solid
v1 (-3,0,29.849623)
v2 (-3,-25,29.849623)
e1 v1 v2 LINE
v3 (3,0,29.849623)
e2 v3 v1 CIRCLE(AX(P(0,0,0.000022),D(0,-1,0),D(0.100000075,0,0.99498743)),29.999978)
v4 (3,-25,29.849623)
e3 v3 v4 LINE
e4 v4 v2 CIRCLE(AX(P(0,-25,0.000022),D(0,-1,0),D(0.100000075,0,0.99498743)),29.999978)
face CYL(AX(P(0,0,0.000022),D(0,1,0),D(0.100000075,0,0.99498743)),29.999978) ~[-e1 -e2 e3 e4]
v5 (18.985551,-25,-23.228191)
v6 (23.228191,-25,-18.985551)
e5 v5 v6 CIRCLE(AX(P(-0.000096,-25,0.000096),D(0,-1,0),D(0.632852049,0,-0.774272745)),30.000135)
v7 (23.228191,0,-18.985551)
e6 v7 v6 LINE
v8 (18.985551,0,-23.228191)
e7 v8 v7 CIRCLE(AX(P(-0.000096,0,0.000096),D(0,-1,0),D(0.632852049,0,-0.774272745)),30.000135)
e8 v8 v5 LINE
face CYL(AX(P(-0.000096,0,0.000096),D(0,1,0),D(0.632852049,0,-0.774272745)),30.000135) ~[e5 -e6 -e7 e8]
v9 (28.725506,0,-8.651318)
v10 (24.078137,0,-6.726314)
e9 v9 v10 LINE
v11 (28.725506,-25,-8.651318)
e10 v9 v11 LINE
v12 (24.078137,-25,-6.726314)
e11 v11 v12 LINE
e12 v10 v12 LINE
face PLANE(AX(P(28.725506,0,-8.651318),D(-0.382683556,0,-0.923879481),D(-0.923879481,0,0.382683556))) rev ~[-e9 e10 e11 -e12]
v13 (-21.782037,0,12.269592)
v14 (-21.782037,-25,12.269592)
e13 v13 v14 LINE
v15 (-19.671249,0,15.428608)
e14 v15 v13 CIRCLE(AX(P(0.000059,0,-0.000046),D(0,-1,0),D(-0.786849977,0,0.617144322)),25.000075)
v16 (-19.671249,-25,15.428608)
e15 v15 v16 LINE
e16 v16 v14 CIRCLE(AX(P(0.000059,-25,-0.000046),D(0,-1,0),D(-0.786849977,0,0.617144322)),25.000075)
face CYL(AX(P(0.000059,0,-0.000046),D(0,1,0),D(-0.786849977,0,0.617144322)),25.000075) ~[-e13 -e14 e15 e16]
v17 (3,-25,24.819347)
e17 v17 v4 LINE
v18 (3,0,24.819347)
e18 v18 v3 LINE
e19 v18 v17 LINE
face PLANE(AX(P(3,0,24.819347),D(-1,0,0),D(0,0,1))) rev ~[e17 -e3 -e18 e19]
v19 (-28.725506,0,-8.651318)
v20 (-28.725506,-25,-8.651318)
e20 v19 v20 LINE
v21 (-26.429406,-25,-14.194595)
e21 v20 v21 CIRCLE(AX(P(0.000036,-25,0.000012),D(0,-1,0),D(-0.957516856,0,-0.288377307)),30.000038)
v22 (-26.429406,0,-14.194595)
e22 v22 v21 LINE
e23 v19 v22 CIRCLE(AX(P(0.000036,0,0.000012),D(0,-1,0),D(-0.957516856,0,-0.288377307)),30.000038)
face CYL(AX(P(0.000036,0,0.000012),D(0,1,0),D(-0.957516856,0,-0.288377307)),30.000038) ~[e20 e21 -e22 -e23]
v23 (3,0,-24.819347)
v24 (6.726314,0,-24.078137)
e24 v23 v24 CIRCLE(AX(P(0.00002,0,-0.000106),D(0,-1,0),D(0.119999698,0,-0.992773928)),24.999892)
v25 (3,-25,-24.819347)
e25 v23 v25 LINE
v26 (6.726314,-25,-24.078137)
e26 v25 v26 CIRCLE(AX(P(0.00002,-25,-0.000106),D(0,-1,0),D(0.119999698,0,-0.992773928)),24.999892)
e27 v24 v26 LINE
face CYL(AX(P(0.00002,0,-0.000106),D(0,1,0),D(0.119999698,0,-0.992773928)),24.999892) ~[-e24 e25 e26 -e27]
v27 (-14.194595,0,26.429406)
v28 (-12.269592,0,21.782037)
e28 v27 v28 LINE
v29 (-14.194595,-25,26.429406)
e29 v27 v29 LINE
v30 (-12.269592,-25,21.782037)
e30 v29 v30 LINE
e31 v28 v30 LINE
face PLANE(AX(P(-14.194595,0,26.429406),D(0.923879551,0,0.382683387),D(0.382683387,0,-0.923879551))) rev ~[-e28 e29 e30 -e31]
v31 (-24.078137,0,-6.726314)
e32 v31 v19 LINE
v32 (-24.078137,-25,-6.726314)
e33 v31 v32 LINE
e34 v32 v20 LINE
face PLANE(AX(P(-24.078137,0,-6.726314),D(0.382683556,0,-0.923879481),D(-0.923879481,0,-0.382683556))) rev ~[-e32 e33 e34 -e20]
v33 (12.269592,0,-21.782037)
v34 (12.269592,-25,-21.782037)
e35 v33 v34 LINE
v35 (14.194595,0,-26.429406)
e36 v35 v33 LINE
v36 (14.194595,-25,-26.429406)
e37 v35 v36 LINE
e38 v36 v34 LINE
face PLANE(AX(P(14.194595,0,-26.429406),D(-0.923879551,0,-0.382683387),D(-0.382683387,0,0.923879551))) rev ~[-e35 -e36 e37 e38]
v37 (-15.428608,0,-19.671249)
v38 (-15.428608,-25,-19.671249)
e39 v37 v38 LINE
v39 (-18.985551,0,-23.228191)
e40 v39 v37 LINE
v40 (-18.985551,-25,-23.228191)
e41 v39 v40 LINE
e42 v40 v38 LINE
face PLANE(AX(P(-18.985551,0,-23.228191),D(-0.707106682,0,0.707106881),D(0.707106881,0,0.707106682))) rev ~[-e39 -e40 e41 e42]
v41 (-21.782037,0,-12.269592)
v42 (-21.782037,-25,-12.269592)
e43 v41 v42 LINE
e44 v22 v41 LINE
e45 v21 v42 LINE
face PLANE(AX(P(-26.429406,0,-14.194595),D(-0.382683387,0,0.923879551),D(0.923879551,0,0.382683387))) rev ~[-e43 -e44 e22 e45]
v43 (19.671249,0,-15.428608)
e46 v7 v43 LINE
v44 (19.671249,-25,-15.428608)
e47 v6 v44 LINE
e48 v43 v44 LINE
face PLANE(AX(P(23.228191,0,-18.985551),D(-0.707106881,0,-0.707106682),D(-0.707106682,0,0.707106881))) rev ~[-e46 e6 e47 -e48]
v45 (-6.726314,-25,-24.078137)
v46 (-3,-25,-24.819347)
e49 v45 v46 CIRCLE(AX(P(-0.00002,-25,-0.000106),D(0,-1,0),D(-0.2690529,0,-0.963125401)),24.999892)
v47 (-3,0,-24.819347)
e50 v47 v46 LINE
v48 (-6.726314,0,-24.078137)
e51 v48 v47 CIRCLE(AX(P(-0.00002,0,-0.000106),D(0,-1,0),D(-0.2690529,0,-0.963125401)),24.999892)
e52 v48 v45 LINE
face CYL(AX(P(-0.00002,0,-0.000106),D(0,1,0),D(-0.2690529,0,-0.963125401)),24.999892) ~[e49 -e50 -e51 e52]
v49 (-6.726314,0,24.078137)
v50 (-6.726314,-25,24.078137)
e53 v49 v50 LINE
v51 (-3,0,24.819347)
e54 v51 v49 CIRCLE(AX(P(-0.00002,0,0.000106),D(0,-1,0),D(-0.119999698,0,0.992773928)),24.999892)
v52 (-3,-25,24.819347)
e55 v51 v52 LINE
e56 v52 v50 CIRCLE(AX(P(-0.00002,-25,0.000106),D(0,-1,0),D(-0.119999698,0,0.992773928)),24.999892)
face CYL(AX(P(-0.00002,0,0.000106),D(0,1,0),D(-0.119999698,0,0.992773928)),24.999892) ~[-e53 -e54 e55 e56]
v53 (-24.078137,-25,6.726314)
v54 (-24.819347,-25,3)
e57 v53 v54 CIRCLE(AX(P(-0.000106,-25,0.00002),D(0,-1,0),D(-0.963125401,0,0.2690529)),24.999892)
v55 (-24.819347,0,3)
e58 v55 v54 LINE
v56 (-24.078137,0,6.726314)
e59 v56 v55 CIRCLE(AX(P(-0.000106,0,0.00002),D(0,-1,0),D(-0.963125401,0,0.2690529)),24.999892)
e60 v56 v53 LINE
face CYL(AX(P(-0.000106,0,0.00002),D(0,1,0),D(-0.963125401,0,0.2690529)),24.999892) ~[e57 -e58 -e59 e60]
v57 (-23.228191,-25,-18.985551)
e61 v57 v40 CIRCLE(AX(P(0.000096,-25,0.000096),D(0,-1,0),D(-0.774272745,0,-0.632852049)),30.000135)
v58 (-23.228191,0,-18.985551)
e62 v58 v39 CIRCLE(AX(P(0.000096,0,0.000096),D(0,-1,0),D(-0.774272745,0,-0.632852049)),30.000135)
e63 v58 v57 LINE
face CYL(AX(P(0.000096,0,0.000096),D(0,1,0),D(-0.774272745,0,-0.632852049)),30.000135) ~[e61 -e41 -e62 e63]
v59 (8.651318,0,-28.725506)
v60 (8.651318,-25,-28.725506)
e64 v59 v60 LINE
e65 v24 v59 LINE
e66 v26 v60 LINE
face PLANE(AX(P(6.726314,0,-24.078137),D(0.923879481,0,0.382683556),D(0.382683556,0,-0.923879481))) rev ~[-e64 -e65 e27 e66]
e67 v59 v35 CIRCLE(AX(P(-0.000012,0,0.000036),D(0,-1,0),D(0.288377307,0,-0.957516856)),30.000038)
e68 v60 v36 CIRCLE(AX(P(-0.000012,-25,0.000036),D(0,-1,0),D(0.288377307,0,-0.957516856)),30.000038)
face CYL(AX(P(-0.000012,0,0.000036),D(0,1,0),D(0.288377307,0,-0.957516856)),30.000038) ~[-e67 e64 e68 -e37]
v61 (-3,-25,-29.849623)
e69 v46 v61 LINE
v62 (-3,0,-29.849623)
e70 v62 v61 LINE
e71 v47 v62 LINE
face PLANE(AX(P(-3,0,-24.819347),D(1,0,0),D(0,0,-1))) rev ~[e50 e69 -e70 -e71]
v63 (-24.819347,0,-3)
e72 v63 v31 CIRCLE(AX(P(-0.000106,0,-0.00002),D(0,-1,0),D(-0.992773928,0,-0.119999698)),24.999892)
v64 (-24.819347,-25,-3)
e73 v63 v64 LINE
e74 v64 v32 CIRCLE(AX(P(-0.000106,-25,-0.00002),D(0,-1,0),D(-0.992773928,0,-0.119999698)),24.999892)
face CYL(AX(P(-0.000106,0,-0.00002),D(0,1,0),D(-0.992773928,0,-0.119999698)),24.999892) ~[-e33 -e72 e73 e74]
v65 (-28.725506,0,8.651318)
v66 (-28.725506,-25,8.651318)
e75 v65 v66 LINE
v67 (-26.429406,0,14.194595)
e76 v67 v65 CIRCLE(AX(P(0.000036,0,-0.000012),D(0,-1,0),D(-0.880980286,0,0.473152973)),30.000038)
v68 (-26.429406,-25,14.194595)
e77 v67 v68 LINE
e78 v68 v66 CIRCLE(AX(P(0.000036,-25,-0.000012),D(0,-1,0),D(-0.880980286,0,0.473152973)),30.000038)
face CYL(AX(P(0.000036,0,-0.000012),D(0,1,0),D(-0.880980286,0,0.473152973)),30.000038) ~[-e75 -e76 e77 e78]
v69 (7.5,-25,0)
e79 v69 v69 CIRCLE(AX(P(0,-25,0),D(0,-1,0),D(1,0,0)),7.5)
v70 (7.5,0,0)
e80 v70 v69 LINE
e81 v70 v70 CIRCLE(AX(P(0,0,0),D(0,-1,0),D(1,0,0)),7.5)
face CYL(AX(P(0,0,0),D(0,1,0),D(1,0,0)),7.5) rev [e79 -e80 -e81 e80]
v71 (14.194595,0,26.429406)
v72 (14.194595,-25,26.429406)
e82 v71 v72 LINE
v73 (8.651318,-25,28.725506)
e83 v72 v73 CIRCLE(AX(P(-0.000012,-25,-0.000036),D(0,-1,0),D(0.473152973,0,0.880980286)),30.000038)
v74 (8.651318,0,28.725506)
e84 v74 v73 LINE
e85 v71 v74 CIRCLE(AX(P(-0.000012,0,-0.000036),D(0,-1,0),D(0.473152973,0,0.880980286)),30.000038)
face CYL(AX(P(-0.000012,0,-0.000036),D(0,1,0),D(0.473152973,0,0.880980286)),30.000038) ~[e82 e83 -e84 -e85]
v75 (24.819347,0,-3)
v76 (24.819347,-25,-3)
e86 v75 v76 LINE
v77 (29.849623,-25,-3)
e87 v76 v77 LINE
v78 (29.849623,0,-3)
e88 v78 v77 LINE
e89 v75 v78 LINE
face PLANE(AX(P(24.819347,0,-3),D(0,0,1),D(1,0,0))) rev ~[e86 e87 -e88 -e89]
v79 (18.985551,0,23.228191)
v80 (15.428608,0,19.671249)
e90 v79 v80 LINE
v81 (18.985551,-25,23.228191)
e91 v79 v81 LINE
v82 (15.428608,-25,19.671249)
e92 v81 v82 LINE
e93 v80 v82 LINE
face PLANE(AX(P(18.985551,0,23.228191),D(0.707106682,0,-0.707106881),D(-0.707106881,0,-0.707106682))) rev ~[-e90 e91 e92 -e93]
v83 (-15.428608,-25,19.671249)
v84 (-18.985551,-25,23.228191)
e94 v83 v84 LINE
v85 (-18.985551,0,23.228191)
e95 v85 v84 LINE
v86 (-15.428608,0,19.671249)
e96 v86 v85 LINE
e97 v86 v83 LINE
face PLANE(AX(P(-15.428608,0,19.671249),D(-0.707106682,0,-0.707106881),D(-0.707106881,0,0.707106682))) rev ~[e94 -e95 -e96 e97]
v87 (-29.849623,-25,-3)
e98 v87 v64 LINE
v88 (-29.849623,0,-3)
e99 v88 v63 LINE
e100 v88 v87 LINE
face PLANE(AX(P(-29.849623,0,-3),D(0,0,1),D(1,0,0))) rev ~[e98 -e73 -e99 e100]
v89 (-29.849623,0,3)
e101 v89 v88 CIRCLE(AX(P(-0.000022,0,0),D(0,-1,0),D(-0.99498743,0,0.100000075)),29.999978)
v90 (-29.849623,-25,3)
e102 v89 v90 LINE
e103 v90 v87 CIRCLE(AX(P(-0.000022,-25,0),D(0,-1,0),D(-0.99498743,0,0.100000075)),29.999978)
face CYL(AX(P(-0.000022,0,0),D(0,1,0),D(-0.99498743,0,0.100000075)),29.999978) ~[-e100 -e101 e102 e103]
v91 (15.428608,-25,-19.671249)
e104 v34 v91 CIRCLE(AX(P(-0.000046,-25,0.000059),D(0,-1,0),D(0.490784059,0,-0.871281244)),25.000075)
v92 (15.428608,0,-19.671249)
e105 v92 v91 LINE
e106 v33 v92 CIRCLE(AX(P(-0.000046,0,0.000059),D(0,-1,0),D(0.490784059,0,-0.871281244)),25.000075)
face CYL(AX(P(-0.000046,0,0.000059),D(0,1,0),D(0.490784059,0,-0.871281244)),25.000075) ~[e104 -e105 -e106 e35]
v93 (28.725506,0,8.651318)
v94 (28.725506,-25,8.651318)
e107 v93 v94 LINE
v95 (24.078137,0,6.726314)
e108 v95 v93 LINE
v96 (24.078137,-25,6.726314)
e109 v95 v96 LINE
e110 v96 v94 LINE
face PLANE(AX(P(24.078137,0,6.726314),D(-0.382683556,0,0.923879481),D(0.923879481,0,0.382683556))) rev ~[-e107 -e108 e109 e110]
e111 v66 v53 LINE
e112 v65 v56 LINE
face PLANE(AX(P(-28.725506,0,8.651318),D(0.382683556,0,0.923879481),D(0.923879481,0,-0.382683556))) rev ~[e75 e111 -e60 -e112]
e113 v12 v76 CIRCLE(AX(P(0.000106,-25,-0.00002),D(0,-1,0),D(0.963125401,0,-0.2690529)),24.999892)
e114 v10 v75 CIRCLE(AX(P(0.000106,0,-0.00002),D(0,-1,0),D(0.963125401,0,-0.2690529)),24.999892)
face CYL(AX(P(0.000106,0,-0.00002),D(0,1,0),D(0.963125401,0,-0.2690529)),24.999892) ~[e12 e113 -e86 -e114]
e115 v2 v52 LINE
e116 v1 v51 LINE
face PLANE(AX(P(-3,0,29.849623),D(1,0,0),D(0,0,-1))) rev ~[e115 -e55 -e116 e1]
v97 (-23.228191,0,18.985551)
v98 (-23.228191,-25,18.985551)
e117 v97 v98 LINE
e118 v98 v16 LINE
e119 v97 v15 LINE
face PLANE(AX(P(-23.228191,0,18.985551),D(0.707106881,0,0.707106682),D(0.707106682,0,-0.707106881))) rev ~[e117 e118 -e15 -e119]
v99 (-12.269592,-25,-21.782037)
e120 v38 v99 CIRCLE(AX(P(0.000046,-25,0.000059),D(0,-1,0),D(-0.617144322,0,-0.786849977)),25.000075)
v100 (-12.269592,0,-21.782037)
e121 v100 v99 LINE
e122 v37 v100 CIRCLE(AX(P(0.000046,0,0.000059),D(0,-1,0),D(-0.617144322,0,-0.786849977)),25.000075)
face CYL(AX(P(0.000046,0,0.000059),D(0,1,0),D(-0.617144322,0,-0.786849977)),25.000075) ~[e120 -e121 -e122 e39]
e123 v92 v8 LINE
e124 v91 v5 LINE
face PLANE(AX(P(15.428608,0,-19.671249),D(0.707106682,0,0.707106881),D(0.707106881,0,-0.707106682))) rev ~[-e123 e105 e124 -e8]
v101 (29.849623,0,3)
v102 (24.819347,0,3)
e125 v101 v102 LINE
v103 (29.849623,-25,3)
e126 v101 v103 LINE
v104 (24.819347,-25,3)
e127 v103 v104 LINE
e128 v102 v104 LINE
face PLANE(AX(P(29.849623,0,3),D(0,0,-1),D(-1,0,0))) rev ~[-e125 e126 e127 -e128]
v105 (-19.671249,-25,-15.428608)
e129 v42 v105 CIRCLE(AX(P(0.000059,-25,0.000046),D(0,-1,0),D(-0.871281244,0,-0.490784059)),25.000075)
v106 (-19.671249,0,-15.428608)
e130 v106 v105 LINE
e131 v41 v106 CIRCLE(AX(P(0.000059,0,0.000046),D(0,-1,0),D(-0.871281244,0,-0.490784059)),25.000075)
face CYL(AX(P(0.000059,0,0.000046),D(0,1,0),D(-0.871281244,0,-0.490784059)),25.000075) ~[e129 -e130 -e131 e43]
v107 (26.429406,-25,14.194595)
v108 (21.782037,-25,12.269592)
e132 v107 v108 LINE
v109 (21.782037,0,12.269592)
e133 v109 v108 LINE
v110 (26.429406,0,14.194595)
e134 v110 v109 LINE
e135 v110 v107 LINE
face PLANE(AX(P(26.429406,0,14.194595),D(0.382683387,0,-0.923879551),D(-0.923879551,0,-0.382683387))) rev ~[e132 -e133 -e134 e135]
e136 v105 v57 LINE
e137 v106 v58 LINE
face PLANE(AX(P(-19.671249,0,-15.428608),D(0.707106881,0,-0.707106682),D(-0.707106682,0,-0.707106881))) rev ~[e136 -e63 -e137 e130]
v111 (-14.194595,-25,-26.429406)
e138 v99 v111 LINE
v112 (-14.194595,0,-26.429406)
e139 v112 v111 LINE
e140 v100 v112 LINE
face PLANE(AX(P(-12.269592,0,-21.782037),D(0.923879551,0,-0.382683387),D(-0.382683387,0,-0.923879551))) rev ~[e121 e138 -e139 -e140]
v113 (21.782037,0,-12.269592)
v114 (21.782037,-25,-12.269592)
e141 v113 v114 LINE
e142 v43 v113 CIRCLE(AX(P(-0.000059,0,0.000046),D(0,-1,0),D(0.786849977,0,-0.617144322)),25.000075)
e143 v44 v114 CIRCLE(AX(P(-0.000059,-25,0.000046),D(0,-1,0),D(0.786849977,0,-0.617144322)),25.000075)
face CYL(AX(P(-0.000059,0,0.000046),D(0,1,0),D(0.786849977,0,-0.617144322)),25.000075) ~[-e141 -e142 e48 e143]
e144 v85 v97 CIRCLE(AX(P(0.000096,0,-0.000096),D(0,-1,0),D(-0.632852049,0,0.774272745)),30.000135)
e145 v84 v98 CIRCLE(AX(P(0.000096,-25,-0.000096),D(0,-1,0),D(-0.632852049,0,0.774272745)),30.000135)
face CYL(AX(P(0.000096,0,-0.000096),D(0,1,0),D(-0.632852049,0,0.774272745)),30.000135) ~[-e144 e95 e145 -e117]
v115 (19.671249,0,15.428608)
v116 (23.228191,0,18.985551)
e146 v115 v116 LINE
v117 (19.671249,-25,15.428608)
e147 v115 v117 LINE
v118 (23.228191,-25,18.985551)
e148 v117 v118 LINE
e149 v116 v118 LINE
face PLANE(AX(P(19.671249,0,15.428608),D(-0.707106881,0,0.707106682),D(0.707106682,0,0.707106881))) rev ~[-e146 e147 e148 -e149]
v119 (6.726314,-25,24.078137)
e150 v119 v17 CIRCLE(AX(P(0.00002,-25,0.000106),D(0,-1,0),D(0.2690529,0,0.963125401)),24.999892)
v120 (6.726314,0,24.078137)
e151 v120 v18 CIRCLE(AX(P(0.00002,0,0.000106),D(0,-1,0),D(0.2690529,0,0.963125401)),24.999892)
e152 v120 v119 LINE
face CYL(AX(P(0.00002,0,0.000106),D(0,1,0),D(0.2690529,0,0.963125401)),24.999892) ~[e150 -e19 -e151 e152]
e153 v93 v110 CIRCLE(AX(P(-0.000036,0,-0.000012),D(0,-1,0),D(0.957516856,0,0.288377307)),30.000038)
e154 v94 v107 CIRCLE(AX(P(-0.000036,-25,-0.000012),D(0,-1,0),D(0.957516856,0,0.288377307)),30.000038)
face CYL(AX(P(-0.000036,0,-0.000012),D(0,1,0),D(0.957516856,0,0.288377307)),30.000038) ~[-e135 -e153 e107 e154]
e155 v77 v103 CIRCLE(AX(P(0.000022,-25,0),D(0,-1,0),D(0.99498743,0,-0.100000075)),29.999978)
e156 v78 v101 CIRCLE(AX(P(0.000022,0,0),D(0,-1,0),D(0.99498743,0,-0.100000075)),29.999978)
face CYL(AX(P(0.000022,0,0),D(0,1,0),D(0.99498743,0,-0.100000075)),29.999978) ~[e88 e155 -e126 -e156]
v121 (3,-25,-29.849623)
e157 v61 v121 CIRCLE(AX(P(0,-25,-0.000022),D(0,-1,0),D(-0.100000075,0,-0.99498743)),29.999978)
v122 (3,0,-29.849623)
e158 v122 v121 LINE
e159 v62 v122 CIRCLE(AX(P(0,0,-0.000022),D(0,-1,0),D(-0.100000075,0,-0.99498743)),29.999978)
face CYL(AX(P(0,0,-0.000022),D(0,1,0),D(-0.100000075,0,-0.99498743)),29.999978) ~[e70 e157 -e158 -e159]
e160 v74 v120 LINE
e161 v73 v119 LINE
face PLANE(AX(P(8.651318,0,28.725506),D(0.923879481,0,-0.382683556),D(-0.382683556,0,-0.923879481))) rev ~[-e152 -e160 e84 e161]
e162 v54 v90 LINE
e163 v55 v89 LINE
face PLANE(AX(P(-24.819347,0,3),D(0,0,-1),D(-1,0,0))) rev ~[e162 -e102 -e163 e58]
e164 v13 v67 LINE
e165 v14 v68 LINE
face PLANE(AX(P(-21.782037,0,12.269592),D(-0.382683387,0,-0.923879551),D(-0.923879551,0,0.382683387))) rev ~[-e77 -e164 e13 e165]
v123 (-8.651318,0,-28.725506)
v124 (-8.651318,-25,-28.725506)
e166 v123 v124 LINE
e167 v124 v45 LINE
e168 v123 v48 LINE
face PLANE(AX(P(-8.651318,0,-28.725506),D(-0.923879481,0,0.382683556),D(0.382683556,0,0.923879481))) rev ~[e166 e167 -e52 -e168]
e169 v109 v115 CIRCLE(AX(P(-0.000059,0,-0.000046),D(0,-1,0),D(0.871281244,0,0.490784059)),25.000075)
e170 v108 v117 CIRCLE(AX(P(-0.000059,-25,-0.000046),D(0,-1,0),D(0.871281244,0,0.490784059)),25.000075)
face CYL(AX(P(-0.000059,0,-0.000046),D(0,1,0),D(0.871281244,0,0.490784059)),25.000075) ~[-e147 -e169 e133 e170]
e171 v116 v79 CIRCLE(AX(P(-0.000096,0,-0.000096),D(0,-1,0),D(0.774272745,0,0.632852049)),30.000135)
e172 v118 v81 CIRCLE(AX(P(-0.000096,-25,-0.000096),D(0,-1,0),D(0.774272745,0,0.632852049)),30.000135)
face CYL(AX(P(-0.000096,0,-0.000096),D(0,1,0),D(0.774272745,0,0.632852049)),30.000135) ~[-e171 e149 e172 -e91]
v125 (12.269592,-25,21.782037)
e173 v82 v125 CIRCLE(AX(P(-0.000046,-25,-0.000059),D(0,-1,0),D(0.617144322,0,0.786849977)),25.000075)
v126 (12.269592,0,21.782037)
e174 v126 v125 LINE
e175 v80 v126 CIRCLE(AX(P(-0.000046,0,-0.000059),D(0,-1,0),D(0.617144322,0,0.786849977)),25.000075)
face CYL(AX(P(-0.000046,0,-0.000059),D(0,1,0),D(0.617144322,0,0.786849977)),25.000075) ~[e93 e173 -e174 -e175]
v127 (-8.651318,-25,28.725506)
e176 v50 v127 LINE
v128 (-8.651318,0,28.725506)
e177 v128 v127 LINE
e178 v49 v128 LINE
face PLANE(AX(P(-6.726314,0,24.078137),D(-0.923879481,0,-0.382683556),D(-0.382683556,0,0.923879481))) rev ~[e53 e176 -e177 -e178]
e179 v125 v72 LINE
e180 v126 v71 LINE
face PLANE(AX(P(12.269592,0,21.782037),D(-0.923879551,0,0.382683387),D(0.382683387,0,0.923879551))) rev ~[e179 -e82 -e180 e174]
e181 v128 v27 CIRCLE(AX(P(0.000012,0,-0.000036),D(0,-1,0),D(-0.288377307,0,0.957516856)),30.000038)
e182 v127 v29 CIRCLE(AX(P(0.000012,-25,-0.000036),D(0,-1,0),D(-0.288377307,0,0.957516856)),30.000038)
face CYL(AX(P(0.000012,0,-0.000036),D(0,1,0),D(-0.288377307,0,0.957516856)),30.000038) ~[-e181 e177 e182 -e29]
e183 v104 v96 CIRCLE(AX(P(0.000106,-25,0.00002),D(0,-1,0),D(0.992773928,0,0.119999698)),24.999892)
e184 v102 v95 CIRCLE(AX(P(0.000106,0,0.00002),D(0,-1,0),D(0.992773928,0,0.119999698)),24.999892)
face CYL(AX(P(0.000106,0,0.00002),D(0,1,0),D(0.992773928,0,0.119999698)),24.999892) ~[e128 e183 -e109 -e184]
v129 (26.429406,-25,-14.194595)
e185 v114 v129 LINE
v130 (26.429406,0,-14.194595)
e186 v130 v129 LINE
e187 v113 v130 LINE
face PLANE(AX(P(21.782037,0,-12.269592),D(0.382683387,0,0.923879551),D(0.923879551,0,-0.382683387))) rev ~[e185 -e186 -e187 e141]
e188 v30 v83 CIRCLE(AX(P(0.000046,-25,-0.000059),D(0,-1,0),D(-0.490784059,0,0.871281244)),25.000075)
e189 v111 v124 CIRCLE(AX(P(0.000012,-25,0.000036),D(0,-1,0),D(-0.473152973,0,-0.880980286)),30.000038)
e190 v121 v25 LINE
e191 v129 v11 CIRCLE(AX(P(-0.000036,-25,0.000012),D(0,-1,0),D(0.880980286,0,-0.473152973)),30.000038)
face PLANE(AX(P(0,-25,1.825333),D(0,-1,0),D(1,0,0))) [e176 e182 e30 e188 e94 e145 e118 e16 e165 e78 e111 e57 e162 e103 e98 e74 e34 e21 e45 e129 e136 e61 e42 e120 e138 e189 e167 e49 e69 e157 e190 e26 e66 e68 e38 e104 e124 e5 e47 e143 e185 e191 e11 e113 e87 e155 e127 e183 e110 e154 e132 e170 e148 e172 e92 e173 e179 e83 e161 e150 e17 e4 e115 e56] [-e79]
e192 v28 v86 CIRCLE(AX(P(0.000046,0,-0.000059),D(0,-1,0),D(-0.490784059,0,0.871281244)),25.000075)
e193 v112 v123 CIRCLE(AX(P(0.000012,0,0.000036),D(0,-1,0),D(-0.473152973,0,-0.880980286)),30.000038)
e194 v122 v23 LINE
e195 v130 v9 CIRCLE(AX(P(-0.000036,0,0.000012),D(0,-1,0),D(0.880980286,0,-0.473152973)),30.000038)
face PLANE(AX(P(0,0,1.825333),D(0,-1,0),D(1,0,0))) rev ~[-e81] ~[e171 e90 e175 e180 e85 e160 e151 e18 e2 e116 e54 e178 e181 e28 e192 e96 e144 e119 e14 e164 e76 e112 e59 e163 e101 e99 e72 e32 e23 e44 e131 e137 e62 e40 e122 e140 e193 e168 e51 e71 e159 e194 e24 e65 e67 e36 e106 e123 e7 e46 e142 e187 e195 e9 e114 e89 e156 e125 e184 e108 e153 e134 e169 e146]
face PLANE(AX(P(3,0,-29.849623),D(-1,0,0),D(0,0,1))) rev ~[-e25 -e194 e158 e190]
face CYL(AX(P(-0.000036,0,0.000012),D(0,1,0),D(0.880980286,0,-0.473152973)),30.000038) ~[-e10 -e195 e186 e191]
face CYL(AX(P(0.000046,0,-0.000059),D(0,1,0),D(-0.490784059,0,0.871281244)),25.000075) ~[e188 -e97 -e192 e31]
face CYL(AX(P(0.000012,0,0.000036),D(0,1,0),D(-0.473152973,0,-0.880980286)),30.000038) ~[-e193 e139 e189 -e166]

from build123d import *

# Parameters (mm, degrees)
F0_R     = 7.5
F1_DEPTH = 25


with BuildPart() as f1:
    # F0 (on Front) → F1 (new body)
    with BuildSketch(Plane.XZ):
        with BuildLine():
            Line((3, 24.819347), (3, 29.849623))
            ThreePointArc((3, 29.849623), (0, 30), (-3, 29.849623))
            Line((-3, 29.849623), (-3, 24.819347))
            ThreePointArc((-3, 24.819347), (-4.877258, 24.519632), (-6.726314, 24.078137))
            ThreePointArc((-6.726314, 24.078137), (-9.567086, 23.096988), (-12.269592, 21.782037))
            ThreePointArc((-12.269592, 21.782037), (-13.889256, 20.78674), (-15.428608, 19.671249))
            ThreePointArc((-15.428608, 19.671249), (-17.67767, 17.67767), (-19.671249, 15.428608))
            ThreePointArc((-19.671249, 15.428608), (-20.78674, 13.889256), (-21.782037, 12.269592))
            ThreePointArc((-21.782037, 12.269592), (-23.096988, 9.567086), (-24.078137, 6.726314))
            ThreePointArc((-24.078137, 6.726314), (-24.519632, 4.877258), (-24.819347, 3))
            ThreePointArc((-24.819347, 3), (-25, 0), (-24.819347, -3))
            ThreePointArc((-24.819347, -3), (-24.519632, -4.877258), (-24.078137, -6.726314))
            ThreePointArc((-24.078137, -6.726314), (-23.096988, -9.567086), (-21.782037, -12.269592))
            ThreePointArc((-21.782037, -12.269592), (-20.78674, -13.889256), (-19.671249, -15.428608))
            ThreePointArc((-19.671249, -15.428608), (-17.67767, -17.67767), (-15.428608, -19.671249))
            ThreePointArc((-15.428608, -19.671249), (-13.889256, -20.78674), (-12.269592, -21.782037))
            ThreePointArc((-12.269592, -21.782037), (-9.567086, -23.096988), (-6.726314, -24.078137))
            ThreePointArc((-6.726314, -24.078137), (-4.877258, -24.519632), (-3, -24.819347))
            ThreePointArc((-3, -24.819347), (0, -25), (3, -24.819347))
            ThreePointArc((3, -24.819347), (4.877258, -24.519632), (6.726314, -24.078137))
            ThreePointArc((6.726314, -24.078137), (9.567086, -23.096988), (12.269592, -21.782037))
            ThreePointArc((12.269592, -21.782037), (13.889256, -20.78674), (15.428608, -19.671249))
            ThreePointArc((15.428608, -19.671249), (17.67767, -17.67767), (19.671249, -15.428608))
            ThreePointArc((19.671249, -15.428608), (20.78674, -13.889256), (21.782037, -12.269592))
            ThreePointArc((21.782037, -12.269592), (23.096988, -9.567086), (24.078137, -6.726314))
            ThreePointArc((24.078137, -6.726314), (24.519632, -4.877258), (24.819347, -3))
            ThreePointArc((24.819347, -3), (25, 0), (24.819347, 3))
            ThreePointArc((24.819347, 3), (24.519632, 4.877258), (24.078137, 6.726314))
            ThreePointArc((24.078137, 6.726314), (23.096988, 9.567086), (21.782037, 12.269592))
            ThreePointArc((21.782037, 12.269592), (20.78674, 13.889256), (19.671249, 15.428608))
            ThreePointArc((19.671249, 15.428608), (17.67767, 17.67767), (15.428608, 19.671249))
            ThreePointArc((15.428608, 19.671249), (13.889256, 20.78674), (12.269592, 21.782037))
            ThreePointArc((12.269592, 21.782037), (9.567086, 23.096988), (6.726314, 24.078137))
            ThreePointArc((6.726314, 24.078137), (4.877258, 24.519632), (3, 24.819347))
        make_face()
        Circle(F0_R, mode=Mode.SUBTRACT)
        with BuildLine():
            Line((8.651318, 28.725506), (6.726314, 24.078137))
            ThreePointArc((6.726314, 24.078137), (9.567086, 23.096988), (12.269592, 21.782037))
            Line((12.269592, 21.782037), (14.194595, 26.429406))
            ThreePointArc((14.194595, 26.429406), (11.480503, 27.716386), (8.651318, 28.725506))
        make_face()
        with BuildLine():
            ThreePointArc((-12.269592, 21.782037), (-9.567086, 23.096988), (-6.726314, 24.078137))
            Line((-6.726314, 24.078137), (-8.651318, 28.725506))
            ThreePointArc((-8.651318, 28.725506), (-11.480503, 27.716386), (-14.194595, 26.429406))
            Line((-14.194595, 26.429406), (-12.269592, 21.782037))
        make_face()
        with BuildLine():
            Line((18.985551, 23.228191), (15.428608, 19.671249))
            ThreePointArc((15.428608, 19.671249), (17.67767, 17.67767), (19.671249, 15.428608))
            Line((19.671249, 15.428608), (23.228191, 18.985551))
            ThreePointArc((23.228191, 18.985551), (21.213203, 21.213203), (18.985551, 23.228191))
        make_face()
        with BuildLine():
            ThreePointArc((-19.671249, 15.428608), (-17.67767, 17.67767), (-15.428608, 19.671249))
            Line((-15.428608, 19.671249), (-18.985551, 23.228191))
            ThreePointArc((-18.985551, 23.228191), (-21.213203, 21.213203), (-23.228191, 18.985551))
            Line((-23.228191, 18.985551), (-19.671249, 15.428608))
        make_face()
        with BuildLine():
            Line((26.429406, 14.194595), (21.782037, 12.269592))
            ThreePointArc((21.782037, 12.269592), (23.096988, 9.567086), (24.078137, 6.726314))
            Line((24.078137, 6.726314), (28.725506, 8.651318))
            ThreePointArc((28.725506, 8.651318), (27.716386, 11.480503), (26.429406, 14.194595))
        make_face()
        with BuildLine():
            ThreePointArc((-24.078137, 6.726314), (-23.096988, 9.567086), (-21.782037, 12.269592))
            Line((-21.782037, 12.269592), (-26.429406, 14.194595))
            ThreePointArc((-26.429406, 14.194595), (-27.716386, 11.480503), (-28.725506, 8.651318))
            Line((-28.725506, 8.651318), (-24.078137, 6.726314))
        make_face()
        with BuildLine():
            Line((29.849623, 3), (24.819347, 3))
            ThreePointArc((24.819347, 3), (25, 0), (24.819347, -3))
            Line((24.819347, -3), (29.849623, -3))
            ThreePointArc((29.849623, -3), (30, 0), (29.849623, 3))
        make_face()
        with BuildLine():
            ThreePointArc((-24.819347, -3), (-25, 0), (-24.819347, 3))
            Line((-24.819347, 3), (-29.849623, 3))
            ThreePointArc((-29.849623, 3), (-30, 0), (-29.849623, -3))
            Line((-29.849623, -3), (-24.819347, -3))
        make_face()
        with BuildLine():
            Line((28.725506, -8.651318), (24.078137, -6.726314))
            ThreePointArc((24.078137, -6.726314), (23.096988, -9.567086), (21.782037, -12.269592))
            Line((21.782037, -12.269592), (26.429406, -14.194595))
            ThreePointArc((26.429406, -14.194595), (27.716386, -11.480503), (28.725506, -8.651318))
        make_face()
        with BuildLine():
            ThreePointArc((-21.782037, -12.269592), (-23.096988, -9.567086), (-24.078137, -6.726314))
            Line((-24.078137, -6.726314), (-28.725506, -8.651318))
            ThreePointArc((-28.725506, -8.651318), (-27.716386, -11.480503), (-26.429406, -14.194595))
            Line((-26.429406, -14.194595), (-21.782037, -12.269592))
        make_face()
        with BuildLine():
            Line((23.228191, -18.985551), (19.671249, -15.428608))
            ThreePointArc((19.671249, -15.428608), (17.67767, -17.67767), (15.428608, -19.671249))
            Line((15.428608, -19.671249), (18.985551, -23.228191))
            ThreePointArc((18.985551, -23.228191), (21.213203, -21.213203), (23.228191, -18.985551))
        make_face()
        with BuildLine():
            ThreePointArc((-15.428608, -19.671249), (-17.67767, -17.67767), (-19.671249, -15.428608))
            Line((-19.671249, -15.428608), (-23.228191, -18.985551))
            ThreePointArc((-23.228191, -18.985551), (-21.213203, -21.213203), (-18.985551, -23.228191))
            Line((-18.985551, -23.228191), (-15.428608, -19.671249))
        make_face()
        with BuildLine():
            Line((14.194595, -26.429406), (12.269592, -21.782037))
            ThreePointArc((12.269592, -21.782037), (9.567086, -23.096988), (6.726314, -24.078137))
            Line((6.726314, -24.078137), (8.651318, -28.725506))
            ThreePointArc((8.651318, -28.725506), (11.480503, -27.716386), (14.194595, -26.429406))
        make_face()
        with BuildLine():
            ThreePointArc((-6.726314, -24.078137), (-9.567086, -23.096988), (-12.269592, -21.782037))
            Line((-12.269592, -21.782037), (-14.194595, -26.429406))
            ThreePointArc((-14.194595, -26.429406), (-11.480503, -27.716386), (-8.651318, -28.725506))
            Line((-8.651318, -28.725506), (-6.726314, -24.078137))
        make_face()
        with BuildLine():
            Line((3, -29.849623), (3, -24.819347))
            ThreePointArc((3, -24.819347), (0, -25), (-3, -24.819347))
            Line((-3, -24.819347), (-3, -29.849623))
            ThreePointArc((-3, -29.849623), (0, -30), (3, -29.849623))
        make_face()
    extrude(amount=F1_DEPTH)


solid = f1.part
